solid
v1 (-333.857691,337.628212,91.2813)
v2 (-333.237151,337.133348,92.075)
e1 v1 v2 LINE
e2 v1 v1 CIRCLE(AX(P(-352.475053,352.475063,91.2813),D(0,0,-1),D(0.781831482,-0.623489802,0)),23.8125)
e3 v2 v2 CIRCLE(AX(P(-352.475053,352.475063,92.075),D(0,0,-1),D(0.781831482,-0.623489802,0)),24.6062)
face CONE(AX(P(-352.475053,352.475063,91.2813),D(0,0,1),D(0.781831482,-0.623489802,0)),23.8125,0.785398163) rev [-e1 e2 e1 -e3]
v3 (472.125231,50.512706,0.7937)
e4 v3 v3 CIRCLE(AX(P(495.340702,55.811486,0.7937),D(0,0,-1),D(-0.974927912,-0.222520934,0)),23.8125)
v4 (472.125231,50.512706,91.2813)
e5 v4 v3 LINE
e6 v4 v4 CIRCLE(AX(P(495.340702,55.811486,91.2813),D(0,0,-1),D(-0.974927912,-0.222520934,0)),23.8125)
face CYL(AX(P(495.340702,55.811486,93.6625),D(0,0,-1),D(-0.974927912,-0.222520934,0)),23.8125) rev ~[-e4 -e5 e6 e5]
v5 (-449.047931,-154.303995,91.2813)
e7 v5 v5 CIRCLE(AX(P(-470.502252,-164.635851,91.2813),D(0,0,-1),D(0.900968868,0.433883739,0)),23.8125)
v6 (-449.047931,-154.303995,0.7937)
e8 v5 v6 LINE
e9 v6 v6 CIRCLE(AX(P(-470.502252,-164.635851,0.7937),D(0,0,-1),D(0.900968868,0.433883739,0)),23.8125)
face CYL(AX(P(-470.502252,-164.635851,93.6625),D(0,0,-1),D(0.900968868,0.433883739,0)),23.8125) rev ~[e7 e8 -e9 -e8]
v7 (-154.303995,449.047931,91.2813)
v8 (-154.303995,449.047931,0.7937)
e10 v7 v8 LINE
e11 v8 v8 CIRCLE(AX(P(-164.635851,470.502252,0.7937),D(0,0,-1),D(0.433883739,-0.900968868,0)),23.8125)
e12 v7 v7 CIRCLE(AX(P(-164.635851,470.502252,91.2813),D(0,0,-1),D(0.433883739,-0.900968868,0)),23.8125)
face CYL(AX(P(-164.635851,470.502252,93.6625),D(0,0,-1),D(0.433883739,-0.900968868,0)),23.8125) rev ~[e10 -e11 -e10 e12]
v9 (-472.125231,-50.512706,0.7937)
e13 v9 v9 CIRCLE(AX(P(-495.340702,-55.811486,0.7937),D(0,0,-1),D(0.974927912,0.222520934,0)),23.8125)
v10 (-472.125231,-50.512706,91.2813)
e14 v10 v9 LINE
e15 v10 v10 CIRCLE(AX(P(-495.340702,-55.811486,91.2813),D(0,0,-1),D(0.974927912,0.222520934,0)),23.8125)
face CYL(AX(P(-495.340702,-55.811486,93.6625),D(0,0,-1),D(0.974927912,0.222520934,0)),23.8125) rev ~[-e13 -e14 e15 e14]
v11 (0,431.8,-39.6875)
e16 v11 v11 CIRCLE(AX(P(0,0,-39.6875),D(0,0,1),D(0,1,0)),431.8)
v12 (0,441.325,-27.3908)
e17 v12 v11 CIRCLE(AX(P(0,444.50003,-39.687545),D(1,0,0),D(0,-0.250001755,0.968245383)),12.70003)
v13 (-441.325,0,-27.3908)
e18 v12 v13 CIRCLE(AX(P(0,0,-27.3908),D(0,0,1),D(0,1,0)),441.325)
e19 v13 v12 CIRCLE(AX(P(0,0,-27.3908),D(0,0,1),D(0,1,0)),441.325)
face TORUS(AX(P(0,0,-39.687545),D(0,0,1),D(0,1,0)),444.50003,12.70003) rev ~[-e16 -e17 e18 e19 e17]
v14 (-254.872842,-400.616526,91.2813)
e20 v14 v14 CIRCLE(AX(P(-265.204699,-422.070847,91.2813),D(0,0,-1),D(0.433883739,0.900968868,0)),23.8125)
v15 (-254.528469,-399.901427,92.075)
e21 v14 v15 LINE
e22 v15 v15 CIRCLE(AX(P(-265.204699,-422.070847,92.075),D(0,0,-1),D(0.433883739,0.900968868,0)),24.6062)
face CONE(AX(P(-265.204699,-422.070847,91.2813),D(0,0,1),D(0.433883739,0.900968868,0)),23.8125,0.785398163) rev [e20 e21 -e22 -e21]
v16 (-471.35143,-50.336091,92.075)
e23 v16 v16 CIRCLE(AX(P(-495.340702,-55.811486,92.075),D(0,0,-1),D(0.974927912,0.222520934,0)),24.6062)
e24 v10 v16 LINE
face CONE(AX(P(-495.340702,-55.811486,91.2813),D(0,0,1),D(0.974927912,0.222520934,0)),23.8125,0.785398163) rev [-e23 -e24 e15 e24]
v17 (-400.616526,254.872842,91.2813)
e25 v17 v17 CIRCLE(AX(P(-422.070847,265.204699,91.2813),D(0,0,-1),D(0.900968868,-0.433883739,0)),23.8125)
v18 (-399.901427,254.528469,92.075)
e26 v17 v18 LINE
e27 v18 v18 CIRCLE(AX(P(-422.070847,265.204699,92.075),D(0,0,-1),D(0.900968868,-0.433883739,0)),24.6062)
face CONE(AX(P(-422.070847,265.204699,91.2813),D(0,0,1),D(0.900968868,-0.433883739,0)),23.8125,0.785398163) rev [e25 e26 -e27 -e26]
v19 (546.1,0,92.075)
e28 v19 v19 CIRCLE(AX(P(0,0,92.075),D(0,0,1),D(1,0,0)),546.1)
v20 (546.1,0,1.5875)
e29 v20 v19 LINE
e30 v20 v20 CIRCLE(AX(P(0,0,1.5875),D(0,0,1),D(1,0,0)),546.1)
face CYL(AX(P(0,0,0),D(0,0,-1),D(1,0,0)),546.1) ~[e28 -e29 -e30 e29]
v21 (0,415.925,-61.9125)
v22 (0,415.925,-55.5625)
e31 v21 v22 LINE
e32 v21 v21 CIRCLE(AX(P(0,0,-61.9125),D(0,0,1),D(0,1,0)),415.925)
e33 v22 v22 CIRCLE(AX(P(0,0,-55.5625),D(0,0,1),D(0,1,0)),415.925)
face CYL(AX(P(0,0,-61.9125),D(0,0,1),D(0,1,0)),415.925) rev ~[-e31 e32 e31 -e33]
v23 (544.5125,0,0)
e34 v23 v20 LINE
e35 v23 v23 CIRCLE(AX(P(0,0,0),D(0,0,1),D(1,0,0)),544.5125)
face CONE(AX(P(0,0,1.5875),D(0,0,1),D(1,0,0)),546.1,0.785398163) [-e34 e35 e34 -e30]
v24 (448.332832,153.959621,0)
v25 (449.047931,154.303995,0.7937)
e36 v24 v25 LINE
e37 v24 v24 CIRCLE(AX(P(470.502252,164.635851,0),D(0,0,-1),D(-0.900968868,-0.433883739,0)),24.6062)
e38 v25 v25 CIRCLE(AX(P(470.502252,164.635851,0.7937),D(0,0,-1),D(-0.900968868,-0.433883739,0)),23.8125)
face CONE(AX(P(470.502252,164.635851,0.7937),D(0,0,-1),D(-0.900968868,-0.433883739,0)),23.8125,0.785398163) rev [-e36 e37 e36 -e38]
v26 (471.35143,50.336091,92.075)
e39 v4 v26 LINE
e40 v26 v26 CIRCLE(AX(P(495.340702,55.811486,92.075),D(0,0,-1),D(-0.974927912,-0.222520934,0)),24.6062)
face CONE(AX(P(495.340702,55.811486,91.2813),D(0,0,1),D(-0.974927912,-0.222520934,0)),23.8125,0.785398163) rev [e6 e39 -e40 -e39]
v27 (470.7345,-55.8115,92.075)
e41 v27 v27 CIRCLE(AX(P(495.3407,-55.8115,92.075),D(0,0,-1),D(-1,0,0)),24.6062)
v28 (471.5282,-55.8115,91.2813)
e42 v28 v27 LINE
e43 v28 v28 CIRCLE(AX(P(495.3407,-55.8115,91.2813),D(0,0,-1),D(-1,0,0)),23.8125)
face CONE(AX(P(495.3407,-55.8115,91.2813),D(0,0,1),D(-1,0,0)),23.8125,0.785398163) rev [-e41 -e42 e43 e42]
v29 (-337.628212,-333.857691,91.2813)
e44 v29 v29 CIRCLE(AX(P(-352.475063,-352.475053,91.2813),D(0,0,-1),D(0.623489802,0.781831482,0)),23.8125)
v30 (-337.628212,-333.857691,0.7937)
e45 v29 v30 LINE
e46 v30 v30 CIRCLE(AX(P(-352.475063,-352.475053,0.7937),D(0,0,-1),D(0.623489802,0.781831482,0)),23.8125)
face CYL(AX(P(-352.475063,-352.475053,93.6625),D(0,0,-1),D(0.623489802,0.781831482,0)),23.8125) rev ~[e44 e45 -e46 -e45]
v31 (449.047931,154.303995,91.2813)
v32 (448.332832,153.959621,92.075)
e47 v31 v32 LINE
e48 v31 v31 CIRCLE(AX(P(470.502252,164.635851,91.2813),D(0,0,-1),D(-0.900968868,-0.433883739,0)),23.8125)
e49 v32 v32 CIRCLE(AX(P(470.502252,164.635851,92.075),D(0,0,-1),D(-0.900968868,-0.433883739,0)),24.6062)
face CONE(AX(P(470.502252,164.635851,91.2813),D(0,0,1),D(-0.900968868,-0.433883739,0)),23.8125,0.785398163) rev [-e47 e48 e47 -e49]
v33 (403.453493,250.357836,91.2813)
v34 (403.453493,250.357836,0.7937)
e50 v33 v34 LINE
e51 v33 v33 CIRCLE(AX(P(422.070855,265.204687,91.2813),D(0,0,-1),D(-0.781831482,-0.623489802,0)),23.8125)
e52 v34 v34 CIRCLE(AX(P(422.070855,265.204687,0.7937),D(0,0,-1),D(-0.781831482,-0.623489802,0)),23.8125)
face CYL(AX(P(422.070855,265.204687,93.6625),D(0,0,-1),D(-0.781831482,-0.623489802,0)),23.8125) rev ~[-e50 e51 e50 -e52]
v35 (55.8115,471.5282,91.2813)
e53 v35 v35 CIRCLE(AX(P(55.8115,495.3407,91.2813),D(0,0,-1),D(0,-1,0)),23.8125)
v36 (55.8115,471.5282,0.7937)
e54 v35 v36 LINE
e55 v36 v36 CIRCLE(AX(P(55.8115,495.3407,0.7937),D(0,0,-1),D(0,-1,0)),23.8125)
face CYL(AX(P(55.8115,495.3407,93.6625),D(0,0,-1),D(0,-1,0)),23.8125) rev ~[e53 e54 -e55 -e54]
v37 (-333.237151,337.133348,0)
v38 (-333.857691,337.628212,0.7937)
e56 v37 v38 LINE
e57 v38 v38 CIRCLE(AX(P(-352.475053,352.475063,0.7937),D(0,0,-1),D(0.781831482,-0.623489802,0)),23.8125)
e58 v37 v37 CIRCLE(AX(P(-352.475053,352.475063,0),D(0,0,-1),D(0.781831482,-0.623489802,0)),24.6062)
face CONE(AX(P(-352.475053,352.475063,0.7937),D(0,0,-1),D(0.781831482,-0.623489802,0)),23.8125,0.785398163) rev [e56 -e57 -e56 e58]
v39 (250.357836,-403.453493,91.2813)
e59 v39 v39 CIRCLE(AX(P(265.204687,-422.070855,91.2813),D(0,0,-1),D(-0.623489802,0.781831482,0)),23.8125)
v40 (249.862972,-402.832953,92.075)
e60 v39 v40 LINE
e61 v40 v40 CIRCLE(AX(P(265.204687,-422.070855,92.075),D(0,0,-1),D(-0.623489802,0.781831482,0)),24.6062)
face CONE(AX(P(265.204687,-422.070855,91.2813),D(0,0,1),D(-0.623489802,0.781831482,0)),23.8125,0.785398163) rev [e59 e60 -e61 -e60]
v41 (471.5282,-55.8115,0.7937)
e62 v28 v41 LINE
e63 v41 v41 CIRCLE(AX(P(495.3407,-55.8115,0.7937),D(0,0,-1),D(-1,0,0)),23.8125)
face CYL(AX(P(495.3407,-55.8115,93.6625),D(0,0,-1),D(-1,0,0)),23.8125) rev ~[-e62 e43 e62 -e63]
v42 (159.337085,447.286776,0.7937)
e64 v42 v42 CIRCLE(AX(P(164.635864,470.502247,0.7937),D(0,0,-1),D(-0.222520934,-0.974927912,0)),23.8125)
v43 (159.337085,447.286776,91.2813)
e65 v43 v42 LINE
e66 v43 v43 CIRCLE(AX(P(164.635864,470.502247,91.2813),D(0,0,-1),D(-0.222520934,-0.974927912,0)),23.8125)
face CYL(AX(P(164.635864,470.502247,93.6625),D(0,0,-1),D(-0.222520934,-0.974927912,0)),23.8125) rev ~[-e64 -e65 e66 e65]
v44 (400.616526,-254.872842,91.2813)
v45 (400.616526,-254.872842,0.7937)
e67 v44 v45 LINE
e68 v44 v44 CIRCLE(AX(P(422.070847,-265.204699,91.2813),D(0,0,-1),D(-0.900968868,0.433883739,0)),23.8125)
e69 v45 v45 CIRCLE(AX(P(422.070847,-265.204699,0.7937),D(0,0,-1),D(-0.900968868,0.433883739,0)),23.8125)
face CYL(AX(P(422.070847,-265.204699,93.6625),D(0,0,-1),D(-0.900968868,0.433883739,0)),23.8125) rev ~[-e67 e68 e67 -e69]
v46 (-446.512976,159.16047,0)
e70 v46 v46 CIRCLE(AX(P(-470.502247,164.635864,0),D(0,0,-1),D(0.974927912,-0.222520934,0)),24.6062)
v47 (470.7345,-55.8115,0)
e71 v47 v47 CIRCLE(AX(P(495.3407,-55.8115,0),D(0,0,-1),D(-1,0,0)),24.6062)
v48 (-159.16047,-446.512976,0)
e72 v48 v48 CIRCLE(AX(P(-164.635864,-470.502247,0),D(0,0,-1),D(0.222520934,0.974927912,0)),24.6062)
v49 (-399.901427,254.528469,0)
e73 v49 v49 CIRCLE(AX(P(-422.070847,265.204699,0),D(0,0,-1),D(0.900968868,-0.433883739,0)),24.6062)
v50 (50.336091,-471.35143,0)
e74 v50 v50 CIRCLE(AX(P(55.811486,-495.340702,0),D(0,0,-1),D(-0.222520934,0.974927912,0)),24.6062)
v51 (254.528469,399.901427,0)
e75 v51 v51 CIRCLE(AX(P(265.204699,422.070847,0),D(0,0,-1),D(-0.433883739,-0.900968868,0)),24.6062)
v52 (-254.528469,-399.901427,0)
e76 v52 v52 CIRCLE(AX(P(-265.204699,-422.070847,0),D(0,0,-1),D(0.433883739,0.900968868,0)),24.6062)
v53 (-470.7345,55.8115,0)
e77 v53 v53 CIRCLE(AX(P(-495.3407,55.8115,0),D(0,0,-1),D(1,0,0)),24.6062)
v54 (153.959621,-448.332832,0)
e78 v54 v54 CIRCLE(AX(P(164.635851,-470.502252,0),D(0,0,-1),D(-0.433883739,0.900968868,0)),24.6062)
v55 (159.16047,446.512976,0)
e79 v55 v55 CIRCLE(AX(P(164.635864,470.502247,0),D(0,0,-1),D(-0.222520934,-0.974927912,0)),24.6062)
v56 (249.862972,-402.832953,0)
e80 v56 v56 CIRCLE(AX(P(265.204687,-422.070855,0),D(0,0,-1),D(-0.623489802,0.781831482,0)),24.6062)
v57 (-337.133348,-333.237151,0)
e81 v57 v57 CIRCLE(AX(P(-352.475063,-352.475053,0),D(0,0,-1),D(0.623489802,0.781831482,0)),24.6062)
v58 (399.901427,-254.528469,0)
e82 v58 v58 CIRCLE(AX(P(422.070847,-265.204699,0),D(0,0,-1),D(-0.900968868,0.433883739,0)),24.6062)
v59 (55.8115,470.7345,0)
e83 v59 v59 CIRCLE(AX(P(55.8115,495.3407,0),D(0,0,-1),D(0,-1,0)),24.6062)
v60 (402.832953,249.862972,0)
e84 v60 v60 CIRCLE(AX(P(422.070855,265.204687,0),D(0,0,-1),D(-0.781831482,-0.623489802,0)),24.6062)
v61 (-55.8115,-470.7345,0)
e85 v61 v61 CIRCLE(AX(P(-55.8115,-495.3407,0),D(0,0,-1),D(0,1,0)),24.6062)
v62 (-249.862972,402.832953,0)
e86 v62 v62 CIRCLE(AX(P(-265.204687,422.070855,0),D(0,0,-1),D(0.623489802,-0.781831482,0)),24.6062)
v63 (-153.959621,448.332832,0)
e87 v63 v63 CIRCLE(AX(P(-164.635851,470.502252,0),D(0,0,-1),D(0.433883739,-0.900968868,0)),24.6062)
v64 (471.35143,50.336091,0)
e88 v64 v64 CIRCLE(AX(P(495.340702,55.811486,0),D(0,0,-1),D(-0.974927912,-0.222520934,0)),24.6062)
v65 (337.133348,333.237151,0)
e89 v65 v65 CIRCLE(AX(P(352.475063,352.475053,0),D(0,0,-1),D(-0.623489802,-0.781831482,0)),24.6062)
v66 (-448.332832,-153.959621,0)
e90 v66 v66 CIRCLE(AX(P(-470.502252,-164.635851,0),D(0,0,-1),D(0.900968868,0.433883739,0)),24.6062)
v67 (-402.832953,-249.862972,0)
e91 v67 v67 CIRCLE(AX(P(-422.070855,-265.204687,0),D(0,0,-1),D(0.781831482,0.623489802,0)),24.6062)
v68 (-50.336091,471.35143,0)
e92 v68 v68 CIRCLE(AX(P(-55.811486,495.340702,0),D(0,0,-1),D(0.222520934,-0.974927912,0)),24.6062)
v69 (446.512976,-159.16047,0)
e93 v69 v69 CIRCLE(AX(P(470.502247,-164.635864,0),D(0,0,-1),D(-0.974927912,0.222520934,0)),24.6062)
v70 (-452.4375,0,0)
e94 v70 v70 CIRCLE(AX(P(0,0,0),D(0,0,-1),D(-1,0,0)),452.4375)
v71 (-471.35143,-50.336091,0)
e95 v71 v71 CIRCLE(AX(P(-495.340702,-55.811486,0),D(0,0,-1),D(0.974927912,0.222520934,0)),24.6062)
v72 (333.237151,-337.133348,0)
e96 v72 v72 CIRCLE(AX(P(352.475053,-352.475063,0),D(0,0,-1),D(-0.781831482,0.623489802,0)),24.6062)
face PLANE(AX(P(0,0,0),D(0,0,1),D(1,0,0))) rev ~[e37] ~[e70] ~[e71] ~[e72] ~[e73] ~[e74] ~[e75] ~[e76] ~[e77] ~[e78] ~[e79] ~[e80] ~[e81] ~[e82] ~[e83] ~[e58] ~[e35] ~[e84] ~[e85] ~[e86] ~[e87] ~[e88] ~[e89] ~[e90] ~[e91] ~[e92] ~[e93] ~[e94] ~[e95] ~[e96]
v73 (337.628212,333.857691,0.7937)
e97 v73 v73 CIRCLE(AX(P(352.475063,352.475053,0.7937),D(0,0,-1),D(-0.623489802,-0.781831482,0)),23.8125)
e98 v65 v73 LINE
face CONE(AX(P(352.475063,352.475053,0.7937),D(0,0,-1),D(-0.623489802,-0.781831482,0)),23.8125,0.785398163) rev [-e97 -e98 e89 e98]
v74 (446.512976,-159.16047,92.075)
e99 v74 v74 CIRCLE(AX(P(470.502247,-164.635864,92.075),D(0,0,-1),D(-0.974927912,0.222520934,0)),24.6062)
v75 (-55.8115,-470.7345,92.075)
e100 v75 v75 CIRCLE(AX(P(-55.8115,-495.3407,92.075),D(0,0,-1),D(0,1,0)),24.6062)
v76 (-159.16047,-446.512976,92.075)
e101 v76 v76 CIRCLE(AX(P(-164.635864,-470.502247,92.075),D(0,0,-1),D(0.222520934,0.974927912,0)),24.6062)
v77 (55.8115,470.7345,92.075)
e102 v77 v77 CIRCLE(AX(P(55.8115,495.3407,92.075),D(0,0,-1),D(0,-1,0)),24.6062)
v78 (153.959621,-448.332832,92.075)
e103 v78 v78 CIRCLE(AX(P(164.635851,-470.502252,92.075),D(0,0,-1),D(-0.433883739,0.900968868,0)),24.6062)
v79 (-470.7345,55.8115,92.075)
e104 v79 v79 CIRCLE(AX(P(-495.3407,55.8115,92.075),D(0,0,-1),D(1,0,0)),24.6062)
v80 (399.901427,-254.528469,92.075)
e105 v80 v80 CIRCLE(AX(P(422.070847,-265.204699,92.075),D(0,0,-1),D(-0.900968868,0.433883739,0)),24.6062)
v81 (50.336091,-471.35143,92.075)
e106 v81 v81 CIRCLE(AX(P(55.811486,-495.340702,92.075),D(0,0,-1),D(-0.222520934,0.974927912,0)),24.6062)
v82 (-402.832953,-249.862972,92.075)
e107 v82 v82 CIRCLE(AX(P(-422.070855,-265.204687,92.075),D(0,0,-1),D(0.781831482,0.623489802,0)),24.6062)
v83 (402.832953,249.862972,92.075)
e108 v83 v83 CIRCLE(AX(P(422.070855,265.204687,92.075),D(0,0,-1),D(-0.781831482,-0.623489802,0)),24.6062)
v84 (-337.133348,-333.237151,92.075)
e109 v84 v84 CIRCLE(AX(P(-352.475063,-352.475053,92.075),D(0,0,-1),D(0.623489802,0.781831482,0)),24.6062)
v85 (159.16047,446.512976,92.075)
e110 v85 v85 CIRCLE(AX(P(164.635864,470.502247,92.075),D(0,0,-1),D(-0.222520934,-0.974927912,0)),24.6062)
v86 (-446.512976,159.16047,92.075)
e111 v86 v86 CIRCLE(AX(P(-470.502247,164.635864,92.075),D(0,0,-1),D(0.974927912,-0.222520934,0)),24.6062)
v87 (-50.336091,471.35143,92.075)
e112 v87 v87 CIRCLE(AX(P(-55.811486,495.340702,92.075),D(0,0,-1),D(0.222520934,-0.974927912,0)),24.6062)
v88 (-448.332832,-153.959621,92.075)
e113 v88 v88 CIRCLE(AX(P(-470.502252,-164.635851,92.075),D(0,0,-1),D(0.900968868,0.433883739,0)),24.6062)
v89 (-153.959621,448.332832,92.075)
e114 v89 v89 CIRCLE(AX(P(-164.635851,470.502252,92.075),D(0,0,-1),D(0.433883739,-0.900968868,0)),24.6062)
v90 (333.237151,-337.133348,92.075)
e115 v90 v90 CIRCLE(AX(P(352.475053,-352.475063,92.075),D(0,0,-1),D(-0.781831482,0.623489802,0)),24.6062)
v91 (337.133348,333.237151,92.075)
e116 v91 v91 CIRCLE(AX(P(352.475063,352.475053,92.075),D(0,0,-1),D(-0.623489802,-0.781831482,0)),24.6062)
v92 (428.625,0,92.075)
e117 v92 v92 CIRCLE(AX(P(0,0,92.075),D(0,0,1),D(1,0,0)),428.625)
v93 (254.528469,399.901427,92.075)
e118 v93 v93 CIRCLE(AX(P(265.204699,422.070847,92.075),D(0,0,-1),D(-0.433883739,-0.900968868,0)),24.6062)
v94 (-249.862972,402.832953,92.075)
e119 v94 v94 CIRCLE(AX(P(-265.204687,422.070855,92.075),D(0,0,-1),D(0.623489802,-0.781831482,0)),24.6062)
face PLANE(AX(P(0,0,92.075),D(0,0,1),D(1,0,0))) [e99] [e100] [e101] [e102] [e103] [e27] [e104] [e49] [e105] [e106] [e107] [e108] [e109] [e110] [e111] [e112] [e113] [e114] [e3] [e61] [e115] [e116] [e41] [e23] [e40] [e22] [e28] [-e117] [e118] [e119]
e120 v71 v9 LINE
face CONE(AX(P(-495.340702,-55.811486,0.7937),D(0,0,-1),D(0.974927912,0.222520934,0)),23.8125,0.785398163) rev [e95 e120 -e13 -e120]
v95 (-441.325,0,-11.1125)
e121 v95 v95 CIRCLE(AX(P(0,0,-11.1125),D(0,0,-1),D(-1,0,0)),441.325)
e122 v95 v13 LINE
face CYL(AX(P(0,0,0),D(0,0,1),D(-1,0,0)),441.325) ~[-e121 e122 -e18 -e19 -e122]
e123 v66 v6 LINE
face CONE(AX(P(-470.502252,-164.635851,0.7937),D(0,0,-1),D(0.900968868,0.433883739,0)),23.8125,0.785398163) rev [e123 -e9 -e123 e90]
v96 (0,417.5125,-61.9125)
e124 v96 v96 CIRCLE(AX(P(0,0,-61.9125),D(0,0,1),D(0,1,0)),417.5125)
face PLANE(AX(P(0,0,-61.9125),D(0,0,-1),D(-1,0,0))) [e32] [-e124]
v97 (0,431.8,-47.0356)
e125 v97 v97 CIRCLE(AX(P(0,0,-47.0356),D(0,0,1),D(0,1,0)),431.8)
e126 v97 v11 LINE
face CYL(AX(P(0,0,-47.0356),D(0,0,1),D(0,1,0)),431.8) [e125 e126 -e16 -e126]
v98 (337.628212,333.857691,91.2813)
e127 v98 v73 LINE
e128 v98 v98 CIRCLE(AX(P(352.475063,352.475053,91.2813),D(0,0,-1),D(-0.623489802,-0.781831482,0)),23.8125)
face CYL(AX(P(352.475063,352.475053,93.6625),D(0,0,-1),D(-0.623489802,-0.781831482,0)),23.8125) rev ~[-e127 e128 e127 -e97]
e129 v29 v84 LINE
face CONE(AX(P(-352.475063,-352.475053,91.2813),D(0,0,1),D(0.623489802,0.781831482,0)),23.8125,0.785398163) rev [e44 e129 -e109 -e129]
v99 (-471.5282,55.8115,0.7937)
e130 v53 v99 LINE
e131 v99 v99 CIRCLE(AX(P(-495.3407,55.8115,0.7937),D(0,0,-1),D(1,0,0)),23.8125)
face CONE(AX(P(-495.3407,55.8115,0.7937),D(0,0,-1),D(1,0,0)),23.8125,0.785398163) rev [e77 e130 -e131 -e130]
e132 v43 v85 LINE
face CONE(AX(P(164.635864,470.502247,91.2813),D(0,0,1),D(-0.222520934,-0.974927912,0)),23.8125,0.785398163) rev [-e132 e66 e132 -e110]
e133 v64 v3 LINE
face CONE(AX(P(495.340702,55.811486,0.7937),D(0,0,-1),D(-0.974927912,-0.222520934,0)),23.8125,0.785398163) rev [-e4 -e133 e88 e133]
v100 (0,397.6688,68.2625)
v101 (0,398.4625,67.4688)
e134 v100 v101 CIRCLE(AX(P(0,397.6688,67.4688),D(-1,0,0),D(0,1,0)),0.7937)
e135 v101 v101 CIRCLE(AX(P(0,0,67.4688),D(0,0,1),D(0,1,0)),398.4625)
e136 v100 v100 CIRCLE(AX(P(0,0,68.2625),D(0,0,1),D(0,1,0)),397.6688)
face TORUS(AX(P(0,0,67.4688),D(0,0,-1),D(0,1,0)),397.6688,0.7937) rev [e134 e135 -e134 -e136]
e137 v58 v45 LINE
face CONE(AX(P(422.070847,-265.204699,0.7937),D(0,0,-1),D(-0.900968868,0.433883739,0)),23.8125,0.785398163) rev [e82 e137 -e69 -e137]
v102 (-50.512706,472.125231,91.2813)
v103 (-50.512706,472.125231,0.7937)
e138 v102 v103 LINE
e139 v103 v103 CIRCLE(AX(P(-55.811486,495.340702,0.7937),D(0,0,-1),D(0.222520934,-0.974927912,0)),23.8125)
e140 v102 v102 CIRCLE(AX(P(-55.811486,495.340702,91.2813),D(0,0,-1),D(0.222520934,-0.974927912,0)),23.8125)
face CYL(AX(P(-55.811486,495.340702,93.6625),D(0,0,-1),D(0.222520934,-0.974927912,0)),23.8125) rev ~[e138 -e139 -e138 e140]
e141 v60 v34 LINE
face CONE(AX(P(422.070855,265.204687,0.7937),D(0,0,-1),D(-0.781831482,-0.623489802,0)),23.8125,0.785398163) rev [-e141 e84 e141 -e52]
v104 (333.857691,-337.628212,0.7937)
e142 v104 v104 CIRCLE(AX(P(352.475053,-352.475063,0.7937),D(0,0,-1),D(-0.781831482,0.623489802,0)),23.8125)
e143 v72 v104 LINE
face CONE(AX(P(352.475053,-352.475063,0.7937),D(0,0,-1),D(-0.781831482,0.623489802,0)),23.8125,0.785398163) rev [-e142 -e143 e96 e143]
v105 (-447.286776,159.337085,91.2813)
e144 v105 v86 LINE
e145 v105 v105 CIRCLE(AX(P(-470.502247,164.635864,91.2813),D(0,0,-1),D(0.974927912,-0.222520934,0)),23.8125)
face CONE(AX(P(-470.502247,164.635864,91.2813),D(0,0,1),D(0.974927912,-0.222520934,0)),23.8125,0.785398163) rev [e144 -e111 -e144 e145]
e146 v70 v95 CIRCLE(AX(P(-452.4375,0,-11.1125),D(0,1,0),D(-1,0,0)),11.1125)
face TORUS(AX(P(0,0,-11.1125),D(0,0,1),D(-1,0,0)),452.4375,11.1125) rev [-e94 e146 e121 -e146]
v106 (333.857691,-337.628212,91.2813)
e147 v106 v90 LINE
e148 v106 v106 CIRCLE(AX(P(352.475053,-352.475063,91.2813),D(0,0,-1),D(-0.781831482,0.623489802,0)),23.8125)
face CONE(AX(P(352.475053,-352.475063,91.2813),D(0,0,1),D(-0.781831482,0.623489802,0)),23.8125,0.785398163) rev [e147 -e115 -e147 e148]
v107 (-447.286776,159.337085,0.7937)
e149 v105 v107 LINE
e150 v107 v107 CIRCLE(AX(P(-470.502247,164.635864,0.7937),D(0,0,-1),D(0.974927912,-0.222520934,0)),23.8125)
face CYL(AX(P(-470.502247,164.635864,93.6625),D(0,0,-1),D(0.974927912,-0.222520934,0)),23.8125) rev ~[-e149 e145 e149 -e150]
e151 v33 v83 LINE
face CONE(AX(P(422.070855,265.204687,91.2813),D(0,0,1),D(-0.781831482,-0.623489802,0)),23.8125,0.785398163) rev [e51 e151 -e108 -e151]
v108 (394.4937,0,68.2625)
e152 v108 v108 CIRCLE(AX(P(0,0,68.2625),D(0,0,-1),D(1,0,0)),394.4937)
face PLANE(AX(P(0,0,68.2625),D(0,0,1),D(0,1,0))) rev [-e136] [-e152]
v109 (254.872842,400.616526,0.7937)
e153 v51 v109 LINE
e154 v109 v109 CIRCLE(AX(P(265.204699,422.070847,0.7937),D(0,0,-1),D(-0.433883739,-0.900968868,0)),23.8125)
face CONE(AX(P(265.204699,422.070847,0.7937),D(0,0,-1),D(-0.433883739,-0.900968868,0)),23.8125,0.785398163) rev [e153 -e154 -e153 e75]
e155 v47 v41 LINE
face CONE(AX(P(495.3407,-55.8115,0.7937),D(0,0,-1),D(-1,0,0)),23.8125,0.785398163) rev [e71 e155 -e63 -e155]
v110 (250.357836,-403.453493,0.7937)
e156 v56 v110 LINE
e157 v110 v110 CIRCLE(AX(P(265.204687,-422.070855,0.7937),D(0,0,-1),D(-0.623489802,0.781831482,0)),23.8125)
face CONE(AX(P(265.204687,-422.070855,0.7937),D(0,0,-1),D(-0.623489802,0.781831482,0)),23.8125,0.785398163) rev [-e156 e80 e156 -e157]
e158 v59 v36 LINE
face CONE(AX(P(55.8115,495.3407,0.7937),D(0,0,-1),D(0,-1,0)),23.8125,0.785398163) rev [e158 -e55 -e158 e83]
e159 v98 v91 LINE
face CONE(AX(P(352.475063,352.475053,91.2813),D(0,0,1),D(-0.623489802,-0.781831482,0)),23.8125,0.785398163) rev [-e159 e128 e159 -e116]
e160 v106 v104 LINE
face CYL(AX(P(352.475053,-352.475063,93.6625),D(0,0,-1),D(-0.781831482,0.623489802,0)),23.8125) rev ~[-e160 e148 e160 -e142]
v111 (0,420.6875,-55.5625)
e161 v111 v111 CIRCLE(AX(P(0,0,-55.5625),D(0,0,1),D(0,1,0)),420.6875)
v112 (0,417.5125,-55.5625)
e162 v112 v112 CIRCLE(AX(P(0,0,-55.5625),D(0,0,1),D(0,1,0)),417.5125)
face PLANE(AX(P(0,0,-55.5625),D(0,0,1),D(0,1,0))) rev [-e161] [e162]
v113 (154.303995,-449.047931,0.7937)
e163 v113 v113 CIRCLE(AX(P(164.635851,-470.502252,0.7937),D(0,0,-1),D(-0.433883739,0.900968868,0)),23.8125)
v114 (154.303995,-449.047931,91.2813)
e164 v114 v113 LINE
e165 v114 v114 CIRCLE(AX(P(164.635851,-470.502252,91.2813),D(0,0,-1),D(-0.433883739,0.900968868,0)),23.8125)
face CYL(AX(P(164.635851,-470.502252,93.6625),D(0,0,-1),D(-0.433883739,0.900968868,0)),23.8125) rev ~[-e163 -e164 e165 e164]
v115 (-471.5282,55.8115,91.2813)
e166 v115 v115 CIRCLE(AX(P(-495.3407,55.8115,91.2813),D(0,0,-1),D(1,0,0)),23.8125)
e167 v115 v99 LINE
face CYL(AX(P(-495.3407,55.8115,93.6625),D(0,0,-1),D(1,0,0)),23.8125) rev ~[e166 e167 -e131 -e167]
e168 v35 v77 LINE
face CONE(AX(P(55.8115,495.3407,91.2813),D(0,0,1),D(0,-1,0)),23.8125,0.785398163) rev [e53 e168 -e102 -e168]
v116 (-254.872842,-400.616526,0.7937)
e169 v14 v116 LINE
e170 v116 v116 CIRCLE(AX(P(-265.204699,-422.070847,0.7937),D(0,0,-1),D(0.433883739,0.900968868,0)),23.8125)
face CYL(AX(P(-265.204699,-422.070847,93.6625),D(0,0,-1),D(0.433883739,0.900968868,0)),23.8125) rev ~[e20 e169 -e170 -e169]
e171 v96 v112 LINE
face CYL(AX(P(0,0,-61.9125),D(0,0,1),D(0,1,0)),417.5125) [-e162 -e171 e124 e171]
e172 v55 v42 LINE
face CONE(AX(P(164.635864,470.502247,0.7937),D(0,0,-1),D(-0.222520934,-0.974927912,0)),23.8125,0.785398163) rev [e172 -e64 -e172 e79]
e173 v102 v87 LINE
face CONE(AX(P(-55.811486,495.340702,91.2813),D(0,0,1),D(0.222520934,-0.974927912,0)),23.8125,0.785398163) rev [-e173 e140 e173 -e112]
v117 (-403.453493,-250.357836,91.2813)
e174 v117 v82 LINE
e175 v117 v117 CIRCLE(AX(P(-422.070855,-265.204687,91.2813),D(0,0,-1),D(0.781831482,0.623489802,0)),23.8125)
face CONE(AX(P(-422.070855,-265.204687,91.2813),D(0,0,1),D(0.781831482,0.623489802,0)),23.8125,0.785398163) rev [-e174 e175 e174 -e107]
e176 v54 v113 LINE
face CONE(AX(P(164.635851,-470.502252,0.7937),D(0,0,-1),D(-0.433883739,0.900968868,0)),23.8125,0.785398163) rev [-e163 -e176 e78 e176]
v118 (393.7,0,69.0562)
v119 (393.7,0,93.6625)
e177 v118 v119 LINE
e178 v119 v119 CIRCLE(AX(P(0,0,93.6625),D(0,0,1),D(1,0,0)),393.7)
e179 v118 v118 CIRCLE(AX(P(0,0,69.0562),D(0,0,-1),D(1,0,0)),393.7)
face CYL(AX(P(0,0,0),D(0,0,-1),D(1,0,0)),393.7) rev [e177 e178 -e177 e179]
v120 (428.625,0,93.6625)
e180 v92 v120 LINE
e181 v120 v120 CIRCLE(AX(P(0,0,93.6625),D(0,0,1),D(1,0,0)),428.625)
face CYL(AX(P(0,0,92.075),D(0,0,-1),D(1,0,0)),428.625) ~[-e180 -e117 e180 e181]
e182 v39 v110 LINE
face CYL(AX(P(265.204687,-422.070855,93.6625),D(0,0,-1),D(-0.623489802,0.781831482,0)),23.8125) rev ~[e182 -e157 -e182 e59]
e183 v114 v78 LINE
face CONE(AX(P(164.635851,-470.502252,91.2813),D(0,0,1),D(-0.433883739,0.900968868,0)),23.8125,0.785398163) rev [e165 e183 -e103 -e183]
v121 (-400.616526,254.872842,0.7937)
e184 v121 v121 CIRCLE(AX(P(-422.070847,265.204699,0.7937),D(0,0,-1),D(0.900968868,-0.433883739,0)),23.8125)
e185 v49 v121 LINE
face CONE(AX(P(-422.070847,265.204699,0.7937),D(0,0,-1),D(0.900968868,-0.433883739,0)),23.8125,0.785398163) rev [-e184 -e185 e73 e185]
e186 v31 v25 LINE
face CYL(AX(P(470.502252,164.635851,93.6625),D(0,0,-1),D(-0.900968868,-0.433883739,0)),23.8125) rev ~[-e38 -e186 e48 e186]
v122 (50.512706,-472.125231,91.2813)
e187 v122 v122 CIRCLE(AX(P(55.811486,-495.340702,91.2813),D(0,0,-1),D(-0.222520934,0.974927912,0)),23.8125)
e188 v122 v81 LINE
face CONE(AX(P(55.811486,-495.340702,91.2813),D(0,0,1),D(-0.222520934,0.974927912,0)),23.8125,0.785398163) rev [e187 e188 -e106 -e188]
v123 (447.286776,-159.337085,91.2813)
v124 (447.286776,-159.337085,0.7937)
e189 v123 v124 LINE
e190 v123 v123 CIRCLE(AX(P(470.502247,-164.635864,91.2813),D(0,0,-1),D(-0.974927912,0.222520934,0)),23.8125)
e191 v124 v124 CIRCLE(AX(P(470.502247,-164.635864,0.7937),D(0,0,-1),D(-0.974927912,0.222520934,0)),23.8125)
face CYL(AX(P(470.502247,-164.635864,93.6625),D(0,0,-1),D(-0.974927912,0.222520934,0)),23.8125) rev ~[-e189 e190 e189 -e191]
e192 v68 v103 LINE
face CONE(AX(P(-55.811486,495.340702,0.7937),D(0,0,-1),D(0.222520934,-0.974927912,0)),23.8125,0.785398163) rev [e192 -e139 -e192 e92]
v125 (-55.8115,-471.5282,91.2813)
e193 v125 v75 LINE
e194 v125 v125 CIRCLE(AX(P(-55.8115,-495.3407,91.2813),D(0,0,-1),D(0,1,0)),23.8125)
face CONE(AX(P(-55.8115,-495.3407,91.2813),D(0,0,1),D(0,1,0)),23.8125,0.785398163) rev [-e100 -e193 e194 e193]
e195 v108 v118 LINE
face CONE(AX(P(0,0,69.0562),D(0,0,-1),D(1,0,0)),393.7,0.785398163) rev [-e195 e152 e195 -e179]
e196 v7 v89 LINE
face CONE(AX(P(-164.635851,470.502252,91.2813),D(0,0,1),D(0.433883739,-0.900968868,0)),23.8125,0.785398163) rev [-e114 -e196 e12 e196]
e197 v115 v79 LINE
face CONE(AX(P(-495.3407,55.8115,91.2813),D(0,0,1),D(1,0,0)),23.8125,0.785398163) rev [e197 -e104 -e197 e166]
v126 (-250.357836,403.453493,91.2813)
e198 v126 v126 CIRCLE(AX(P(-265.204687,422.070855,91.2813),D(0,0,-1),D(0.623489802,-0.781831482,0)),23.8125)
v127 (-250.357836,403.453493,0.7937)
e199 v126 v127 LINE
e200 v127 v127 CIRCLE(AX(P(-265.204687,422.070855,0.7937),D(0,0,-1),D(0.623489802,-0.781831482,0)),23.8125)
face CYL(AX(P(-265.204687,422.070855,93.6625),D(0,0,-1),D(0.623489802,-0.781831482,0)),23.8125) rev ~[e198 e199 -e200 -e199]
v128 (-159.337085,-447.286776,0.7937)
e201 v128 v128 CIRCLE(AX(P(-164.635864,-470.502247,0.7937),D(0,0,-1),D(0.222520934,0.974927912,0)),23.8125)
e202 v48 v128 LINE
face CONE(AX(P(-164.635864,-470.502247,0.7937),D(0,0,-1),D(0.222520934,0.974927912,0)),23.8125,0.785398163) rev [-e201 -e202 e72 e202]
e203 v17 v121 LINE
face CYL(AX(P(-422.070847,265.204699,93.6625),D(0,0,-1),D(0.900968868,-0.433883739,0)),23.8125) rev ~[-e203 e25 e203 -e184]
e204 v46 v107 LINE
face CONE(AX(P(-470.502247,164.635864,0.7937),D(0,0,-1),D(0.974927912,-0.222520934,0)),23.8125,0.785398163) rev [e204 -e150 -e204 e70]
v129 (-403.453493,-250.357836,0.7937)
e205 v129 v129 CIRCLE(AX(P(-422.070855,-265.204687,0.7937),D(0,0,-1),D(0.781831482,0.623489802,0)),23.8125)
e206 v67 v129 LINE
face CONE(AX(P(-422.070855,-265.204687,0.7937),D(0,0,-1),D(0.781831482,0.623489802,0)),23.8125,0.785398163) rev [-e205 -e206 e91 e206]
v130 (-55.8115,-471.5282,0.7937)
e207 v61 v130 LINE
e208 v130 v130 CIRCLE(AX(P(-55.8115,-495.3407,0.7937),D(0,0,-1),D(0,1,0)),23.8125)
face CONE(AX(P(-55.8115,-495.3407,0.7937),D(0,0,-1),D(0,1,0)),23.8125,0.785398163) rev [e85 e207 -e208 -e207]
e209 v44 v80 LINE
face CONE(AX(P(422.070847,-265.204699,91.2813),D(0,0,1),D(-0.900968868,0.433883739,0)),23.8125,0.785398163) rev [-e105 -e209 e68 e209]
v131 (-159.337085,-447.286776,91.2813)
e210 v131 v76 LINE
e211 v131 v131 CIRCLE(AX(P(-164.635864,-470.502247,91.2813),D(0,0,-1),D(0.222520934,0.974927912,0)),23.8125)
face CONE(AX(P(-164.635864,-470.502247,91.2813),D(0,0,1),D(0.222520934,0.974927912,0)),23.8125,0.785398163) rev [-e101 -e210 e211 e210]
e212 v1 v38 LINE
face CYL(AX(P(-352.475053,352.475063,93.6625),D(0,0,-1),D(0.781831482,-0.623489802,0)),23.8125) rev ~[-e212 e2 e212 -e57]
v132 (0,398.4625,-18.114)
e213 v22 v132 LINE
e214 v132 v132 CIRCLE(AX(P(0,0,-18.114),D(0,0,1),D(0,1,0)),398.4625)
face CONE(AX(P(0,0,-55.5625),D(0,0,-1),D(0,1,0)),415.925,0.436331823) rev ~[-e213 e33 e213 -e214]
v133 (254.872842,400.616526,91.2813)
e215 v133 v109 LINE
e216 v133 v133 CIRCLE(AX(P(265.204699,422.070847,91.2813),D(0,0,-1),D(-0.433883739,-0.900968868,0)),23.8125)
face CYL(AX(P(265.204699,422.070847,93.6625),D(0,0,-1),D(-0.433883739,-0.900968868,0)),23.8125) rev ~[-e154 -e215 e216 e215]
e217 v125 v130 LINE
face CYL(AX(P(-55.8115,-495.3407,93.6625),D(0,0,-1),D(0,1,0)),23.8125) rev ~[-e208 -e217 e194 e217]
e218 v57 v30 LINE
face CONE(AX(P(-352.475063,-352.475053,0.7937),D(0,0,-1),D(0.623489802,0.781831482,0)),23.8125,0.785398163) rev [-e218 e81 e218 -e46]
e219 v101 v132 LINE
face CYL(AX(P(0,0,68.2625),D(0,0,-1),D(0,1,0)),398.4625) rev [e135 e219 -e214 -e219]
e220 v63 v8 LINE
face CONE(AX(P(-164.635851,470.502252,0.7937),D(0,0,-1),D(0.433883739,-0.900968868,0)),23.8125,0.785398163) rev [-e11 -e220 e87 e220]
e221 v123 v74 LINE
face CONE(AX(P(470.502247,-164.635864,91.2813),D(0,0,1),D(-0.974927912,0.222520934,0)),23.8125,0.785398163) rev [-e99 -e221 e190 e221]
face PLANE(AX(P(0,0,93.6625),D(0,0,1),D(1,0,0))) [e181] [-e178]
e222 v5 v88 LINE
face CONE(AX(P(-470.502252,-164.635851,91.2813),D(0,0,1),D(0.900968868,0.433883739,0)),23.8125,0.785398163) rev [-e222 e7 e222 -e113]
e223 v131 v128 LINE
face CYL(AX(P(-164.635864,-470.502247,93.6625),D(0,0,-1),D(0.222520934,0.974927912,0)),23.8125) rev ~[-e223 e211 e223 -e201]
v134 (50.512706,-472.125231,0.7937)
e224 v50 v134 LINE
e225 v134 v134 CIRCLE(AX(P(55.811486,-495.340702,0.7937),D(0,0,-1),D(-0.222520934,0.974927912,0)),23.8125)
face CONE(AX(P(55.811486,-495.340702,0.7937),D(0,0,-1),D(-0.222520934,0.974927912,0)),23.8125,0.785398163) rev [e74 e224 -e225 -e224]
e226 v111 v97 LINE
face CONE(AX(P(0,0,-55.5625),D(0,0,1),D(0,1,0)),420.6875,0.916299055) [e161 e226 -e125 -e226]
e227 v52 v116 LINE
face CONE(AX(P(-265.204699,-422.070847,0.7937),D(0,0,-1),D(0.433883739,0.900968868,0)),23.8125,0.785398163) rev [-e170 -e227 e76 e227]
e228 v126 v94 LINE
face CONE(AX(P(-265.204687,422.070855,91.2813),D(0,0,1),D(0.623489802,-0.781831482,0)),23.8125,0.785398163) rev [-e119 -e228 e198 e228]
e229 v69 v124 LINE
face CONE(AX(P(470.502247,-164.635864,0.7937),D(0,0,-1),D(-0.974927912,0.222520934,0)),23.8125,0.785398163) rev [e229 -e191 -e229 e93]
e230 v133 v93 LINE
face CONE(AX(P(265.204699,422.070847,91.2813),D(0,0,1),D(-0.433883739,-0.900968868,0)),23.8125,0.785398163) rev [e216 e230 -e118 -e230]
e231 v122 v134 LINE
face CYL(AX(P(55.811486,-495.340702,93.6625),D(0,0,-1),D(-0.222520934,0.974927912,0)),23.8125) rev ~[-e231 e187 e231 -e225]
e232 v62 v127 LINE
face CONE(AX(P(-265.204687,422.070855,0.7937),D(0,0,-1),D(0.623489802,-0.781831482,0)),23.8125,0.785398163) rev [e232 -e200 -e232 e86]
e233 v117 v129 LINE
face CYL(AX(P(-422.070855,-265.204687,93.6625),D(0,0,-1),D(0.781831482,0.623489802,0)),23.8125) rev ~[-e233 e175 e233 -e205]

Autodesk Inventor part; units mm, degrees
ref_plane "YZ Plane" through (0, 0, 0) normal (1, 0, 0) x (0, 1, 0)
ref_plane "XZ Plane" through (0, 0, 0) normal (0, 1, 0) x (-1, 0, 0)
ref_plane "XY Plane" through (0, 0, 0) normal (0, 0, 1) x (1, 0, 0)
sketch "Sketch1" plane through (0, 0, 0) normal (0, 0, 1) x (1, 0, 0)
  circle A0 centre (0, 0) radius 546.1
  circle A1 centre (0, 0) radius 393.7
  dimension "d0" = 1092.2
  dimension "d1" = 787.4
extrude "Extrusion1" add sketch "Sketch1" along normal blind 92.075
sketch "Sketch2" plane through (0, 0, 92.075) normal (0, 0, 1) x (1, 0, 0)
  circle A0 centre (0, 0) radius 393.7 projected
  circle A1 centre (0, 0) radius 546.1 projected
  circle A2 centre (0, 0) radius 428.625
  dimension "d4" = 857.25
extrude "Extrusion2" add sketch "Sketch2" along normal blind 1.5875 contours A2
sketch "Sketch3" plane through (0, 0, 0) normal (0, 0, -1) x (-1, 0, 0)
  circle A0 centre (0, 0) radius 393.7 projected
  circle A1 centre (0, 0) radius 546.1 projected
  circle A2 centre (0, 0) radius 441.325
  dimension "d7" = 882.65
extrude "Extrusion3" add sketch "Sketch3" along normal blind 61.9125 contours A2
sketch "Sketch15" plane through (0, 0, 92.075) normal (0, 0, 1) x (1, 0, 0)
  circle A0 centre (0, 0) radius 428.625 projected
  circle A1 centre (0, 0) radius 546.1 projected
extrude "Extrusion9" [suppressed]
sketch "Sketch4" plane through (0, 0, 93.6625) normal (0, 0, 1) x (1, 0, 0)
  circle A0 centre (0, 0) radius 428.625 projected
  line L0 (0, -764.54) -> (0, 764.54) projected
  line L1 (-764.54, 0) -> (764.54, 0) projected
  line L2 (0, 0) -> (55.8115, 495.3407) construction
  dimension "d13" = 498.475
  dimension "d14" = 6.429
hole "Hole1" at (55.8115, 495.3407, 93.6625) direction (0, 0, -1) diameter 47.625 end through all
chamfer "Chamfer3" distance 0.7937 angle 45 2 edges at (55.8115, 519.1532, 0) (55.8115, 519.1532, 92.075)
pattern_circular "Circular Pattern1" count 28 over 360 about axis through (0, 0, -10) along (0, 0, -1) of "Hole1", "Chamfer3"
chamfer "Chamfer2" distance 1.5875 angle 45 1 edges at (-546.1, 0, 0)
fillet "Fillet2" radius 11.1125 1 edges at (441.325, 0, 0)
chamfer "Chamfer4" distance 1.5875 angle 45 1 edges at (441.325, 0, -61.9125)
sketch "Sketch12" plane through (0, 0, 0) normal (1, 0, 0) x (0, 1, 0)
  line L0 (439.7375, -61.9125) -> (-439.7375, -61.9125) construction
  arc A0 (452.4375, 0) -> (441.325, -11.1125) centre (452.4375, -11.1125) ccw construction
  line L1 (0, -61.9125) -> (0, 93.6625)
  line L2 (393.7, 68.2625) -> (398.4625, 68.2625)
  line L3 (398.4625, 68.2625) -> (398.4625, -61.9125)
  line L4 (398.4625, -61.9125) -> (393.7, -61.9125)
  line L5 (393.7, -61.9125) -> (393.7, 68.2625)
  line L6 (417.5125, -61.9125) -> (417.5125, -55.5625)
  line L7 (417.5125, -55.5625) -> (420.6875, -55.5625)
  line L8 (420.6875, -55.5625) -> (431.8, -47.0356)
  line L9 (431.8, -47.0356) -> (431.8, -39.6875)
  arc A1 (441.325, -27.3908) -> (431.8, -39.6875) centre (444.5, -39.6875) ccw
  line L10 (441.325, -61.9125) -> (417.5125, -61.9125)
  line L11 (393.7, -61.9125) -> (393.7, 93.6625) construction
  line L12 (441.325, -11.1125) -> (441.325, -60.325) construction
  line L13 (441.325, -61.9125) -> (441.325, -27.3908)
  line L14 (398.4625, -61.9125) -> (415.925, -61.9125)
  line L15 (415.925, -61.9125) -> (415.925, -55.5625)
  line L16 (415.925, -55.5625) -> (398.4625, -18.114)
  dimension "d98" = 863.6
  dimension "d99" = 11.1125
  dimension "d100" = 3.175
  dimension "d101" = 6.35
  dimension "d102" = 37.5
  dimension "d103" = 12.7
  dimension "d104" = 22.225
  dimension "d105" = 7.3481
  dimension "d106" = 796.925
  dimension "d120" = 25.4
  dimension "d134" = 1.5875
  dimension "d135" = 25
revolve "Revolution3" cut sketch "Sketch12" angle 360 about axis through (0, 0, -61.9125) along (0, 0, 1)
fillet "Fillet7" radius 0.7937 1 edges at (0, -398.4625, 68.2625)
chamfer "Chamfer8" distance 0.7937 angle 45 1 edges at (-393.7, 0, 68.2625)
equation "\"d0\" = OD"
equation "\"d1\" = Bore"
equation "\"d2\" = Thickness"
equation "\"d4\" = RFDia"
equation "\"d5\" = RFDepth"
equation "\"d7\" = NeckDia"
equation "\"d8\" = NeckLength"
equation "\"d13\" = 0.5 * BCD"
equation "\"d15\" = HoleDia"
equation "\"d30\" = HoleChamfer"
equation "\"d25\" = RimChamfer"
equation "\"d29\" = NeckFillet"
equation "\"d33\" = NeckChamfer"
equation "\"d98\" = Casing"
equation "\"d106\" = Bore + 2 * Lockstep"
equation "\"OD\" = 1092.2"
equation "\"Bore\" = 787.4"
equation "\"Thickness\" = 92.075"
equation "\"RFDia\" = 857.25"
equation "\"RFDepth\" = 1.5875"
equation "\"HoleDia\" = 47.625"
equation "\"BCD\" = 996.95"
equation "\"NeckDia\" = 882.65"
equation "\"HoleChamfer\" = 0.79375"
equation "\"RimChamfer\" = 1.5875"
equation "\"NeckChamfer\" = 1.5875"
equation "\"NeckFillet\" = 11.1125"
equation "\"Lock\" = 25.4"
equation "\"Lockstep\" = 4.7625"
equation "\"Casing\" = 863.6"
equation "\"Size\" = 762"
equation "\"Wall\" = 12.7"
equation "\"NeckLength\" = 61.9125"
properties part number "A1-19027-400-05 30in CL300 RF flange" material "Steel"
